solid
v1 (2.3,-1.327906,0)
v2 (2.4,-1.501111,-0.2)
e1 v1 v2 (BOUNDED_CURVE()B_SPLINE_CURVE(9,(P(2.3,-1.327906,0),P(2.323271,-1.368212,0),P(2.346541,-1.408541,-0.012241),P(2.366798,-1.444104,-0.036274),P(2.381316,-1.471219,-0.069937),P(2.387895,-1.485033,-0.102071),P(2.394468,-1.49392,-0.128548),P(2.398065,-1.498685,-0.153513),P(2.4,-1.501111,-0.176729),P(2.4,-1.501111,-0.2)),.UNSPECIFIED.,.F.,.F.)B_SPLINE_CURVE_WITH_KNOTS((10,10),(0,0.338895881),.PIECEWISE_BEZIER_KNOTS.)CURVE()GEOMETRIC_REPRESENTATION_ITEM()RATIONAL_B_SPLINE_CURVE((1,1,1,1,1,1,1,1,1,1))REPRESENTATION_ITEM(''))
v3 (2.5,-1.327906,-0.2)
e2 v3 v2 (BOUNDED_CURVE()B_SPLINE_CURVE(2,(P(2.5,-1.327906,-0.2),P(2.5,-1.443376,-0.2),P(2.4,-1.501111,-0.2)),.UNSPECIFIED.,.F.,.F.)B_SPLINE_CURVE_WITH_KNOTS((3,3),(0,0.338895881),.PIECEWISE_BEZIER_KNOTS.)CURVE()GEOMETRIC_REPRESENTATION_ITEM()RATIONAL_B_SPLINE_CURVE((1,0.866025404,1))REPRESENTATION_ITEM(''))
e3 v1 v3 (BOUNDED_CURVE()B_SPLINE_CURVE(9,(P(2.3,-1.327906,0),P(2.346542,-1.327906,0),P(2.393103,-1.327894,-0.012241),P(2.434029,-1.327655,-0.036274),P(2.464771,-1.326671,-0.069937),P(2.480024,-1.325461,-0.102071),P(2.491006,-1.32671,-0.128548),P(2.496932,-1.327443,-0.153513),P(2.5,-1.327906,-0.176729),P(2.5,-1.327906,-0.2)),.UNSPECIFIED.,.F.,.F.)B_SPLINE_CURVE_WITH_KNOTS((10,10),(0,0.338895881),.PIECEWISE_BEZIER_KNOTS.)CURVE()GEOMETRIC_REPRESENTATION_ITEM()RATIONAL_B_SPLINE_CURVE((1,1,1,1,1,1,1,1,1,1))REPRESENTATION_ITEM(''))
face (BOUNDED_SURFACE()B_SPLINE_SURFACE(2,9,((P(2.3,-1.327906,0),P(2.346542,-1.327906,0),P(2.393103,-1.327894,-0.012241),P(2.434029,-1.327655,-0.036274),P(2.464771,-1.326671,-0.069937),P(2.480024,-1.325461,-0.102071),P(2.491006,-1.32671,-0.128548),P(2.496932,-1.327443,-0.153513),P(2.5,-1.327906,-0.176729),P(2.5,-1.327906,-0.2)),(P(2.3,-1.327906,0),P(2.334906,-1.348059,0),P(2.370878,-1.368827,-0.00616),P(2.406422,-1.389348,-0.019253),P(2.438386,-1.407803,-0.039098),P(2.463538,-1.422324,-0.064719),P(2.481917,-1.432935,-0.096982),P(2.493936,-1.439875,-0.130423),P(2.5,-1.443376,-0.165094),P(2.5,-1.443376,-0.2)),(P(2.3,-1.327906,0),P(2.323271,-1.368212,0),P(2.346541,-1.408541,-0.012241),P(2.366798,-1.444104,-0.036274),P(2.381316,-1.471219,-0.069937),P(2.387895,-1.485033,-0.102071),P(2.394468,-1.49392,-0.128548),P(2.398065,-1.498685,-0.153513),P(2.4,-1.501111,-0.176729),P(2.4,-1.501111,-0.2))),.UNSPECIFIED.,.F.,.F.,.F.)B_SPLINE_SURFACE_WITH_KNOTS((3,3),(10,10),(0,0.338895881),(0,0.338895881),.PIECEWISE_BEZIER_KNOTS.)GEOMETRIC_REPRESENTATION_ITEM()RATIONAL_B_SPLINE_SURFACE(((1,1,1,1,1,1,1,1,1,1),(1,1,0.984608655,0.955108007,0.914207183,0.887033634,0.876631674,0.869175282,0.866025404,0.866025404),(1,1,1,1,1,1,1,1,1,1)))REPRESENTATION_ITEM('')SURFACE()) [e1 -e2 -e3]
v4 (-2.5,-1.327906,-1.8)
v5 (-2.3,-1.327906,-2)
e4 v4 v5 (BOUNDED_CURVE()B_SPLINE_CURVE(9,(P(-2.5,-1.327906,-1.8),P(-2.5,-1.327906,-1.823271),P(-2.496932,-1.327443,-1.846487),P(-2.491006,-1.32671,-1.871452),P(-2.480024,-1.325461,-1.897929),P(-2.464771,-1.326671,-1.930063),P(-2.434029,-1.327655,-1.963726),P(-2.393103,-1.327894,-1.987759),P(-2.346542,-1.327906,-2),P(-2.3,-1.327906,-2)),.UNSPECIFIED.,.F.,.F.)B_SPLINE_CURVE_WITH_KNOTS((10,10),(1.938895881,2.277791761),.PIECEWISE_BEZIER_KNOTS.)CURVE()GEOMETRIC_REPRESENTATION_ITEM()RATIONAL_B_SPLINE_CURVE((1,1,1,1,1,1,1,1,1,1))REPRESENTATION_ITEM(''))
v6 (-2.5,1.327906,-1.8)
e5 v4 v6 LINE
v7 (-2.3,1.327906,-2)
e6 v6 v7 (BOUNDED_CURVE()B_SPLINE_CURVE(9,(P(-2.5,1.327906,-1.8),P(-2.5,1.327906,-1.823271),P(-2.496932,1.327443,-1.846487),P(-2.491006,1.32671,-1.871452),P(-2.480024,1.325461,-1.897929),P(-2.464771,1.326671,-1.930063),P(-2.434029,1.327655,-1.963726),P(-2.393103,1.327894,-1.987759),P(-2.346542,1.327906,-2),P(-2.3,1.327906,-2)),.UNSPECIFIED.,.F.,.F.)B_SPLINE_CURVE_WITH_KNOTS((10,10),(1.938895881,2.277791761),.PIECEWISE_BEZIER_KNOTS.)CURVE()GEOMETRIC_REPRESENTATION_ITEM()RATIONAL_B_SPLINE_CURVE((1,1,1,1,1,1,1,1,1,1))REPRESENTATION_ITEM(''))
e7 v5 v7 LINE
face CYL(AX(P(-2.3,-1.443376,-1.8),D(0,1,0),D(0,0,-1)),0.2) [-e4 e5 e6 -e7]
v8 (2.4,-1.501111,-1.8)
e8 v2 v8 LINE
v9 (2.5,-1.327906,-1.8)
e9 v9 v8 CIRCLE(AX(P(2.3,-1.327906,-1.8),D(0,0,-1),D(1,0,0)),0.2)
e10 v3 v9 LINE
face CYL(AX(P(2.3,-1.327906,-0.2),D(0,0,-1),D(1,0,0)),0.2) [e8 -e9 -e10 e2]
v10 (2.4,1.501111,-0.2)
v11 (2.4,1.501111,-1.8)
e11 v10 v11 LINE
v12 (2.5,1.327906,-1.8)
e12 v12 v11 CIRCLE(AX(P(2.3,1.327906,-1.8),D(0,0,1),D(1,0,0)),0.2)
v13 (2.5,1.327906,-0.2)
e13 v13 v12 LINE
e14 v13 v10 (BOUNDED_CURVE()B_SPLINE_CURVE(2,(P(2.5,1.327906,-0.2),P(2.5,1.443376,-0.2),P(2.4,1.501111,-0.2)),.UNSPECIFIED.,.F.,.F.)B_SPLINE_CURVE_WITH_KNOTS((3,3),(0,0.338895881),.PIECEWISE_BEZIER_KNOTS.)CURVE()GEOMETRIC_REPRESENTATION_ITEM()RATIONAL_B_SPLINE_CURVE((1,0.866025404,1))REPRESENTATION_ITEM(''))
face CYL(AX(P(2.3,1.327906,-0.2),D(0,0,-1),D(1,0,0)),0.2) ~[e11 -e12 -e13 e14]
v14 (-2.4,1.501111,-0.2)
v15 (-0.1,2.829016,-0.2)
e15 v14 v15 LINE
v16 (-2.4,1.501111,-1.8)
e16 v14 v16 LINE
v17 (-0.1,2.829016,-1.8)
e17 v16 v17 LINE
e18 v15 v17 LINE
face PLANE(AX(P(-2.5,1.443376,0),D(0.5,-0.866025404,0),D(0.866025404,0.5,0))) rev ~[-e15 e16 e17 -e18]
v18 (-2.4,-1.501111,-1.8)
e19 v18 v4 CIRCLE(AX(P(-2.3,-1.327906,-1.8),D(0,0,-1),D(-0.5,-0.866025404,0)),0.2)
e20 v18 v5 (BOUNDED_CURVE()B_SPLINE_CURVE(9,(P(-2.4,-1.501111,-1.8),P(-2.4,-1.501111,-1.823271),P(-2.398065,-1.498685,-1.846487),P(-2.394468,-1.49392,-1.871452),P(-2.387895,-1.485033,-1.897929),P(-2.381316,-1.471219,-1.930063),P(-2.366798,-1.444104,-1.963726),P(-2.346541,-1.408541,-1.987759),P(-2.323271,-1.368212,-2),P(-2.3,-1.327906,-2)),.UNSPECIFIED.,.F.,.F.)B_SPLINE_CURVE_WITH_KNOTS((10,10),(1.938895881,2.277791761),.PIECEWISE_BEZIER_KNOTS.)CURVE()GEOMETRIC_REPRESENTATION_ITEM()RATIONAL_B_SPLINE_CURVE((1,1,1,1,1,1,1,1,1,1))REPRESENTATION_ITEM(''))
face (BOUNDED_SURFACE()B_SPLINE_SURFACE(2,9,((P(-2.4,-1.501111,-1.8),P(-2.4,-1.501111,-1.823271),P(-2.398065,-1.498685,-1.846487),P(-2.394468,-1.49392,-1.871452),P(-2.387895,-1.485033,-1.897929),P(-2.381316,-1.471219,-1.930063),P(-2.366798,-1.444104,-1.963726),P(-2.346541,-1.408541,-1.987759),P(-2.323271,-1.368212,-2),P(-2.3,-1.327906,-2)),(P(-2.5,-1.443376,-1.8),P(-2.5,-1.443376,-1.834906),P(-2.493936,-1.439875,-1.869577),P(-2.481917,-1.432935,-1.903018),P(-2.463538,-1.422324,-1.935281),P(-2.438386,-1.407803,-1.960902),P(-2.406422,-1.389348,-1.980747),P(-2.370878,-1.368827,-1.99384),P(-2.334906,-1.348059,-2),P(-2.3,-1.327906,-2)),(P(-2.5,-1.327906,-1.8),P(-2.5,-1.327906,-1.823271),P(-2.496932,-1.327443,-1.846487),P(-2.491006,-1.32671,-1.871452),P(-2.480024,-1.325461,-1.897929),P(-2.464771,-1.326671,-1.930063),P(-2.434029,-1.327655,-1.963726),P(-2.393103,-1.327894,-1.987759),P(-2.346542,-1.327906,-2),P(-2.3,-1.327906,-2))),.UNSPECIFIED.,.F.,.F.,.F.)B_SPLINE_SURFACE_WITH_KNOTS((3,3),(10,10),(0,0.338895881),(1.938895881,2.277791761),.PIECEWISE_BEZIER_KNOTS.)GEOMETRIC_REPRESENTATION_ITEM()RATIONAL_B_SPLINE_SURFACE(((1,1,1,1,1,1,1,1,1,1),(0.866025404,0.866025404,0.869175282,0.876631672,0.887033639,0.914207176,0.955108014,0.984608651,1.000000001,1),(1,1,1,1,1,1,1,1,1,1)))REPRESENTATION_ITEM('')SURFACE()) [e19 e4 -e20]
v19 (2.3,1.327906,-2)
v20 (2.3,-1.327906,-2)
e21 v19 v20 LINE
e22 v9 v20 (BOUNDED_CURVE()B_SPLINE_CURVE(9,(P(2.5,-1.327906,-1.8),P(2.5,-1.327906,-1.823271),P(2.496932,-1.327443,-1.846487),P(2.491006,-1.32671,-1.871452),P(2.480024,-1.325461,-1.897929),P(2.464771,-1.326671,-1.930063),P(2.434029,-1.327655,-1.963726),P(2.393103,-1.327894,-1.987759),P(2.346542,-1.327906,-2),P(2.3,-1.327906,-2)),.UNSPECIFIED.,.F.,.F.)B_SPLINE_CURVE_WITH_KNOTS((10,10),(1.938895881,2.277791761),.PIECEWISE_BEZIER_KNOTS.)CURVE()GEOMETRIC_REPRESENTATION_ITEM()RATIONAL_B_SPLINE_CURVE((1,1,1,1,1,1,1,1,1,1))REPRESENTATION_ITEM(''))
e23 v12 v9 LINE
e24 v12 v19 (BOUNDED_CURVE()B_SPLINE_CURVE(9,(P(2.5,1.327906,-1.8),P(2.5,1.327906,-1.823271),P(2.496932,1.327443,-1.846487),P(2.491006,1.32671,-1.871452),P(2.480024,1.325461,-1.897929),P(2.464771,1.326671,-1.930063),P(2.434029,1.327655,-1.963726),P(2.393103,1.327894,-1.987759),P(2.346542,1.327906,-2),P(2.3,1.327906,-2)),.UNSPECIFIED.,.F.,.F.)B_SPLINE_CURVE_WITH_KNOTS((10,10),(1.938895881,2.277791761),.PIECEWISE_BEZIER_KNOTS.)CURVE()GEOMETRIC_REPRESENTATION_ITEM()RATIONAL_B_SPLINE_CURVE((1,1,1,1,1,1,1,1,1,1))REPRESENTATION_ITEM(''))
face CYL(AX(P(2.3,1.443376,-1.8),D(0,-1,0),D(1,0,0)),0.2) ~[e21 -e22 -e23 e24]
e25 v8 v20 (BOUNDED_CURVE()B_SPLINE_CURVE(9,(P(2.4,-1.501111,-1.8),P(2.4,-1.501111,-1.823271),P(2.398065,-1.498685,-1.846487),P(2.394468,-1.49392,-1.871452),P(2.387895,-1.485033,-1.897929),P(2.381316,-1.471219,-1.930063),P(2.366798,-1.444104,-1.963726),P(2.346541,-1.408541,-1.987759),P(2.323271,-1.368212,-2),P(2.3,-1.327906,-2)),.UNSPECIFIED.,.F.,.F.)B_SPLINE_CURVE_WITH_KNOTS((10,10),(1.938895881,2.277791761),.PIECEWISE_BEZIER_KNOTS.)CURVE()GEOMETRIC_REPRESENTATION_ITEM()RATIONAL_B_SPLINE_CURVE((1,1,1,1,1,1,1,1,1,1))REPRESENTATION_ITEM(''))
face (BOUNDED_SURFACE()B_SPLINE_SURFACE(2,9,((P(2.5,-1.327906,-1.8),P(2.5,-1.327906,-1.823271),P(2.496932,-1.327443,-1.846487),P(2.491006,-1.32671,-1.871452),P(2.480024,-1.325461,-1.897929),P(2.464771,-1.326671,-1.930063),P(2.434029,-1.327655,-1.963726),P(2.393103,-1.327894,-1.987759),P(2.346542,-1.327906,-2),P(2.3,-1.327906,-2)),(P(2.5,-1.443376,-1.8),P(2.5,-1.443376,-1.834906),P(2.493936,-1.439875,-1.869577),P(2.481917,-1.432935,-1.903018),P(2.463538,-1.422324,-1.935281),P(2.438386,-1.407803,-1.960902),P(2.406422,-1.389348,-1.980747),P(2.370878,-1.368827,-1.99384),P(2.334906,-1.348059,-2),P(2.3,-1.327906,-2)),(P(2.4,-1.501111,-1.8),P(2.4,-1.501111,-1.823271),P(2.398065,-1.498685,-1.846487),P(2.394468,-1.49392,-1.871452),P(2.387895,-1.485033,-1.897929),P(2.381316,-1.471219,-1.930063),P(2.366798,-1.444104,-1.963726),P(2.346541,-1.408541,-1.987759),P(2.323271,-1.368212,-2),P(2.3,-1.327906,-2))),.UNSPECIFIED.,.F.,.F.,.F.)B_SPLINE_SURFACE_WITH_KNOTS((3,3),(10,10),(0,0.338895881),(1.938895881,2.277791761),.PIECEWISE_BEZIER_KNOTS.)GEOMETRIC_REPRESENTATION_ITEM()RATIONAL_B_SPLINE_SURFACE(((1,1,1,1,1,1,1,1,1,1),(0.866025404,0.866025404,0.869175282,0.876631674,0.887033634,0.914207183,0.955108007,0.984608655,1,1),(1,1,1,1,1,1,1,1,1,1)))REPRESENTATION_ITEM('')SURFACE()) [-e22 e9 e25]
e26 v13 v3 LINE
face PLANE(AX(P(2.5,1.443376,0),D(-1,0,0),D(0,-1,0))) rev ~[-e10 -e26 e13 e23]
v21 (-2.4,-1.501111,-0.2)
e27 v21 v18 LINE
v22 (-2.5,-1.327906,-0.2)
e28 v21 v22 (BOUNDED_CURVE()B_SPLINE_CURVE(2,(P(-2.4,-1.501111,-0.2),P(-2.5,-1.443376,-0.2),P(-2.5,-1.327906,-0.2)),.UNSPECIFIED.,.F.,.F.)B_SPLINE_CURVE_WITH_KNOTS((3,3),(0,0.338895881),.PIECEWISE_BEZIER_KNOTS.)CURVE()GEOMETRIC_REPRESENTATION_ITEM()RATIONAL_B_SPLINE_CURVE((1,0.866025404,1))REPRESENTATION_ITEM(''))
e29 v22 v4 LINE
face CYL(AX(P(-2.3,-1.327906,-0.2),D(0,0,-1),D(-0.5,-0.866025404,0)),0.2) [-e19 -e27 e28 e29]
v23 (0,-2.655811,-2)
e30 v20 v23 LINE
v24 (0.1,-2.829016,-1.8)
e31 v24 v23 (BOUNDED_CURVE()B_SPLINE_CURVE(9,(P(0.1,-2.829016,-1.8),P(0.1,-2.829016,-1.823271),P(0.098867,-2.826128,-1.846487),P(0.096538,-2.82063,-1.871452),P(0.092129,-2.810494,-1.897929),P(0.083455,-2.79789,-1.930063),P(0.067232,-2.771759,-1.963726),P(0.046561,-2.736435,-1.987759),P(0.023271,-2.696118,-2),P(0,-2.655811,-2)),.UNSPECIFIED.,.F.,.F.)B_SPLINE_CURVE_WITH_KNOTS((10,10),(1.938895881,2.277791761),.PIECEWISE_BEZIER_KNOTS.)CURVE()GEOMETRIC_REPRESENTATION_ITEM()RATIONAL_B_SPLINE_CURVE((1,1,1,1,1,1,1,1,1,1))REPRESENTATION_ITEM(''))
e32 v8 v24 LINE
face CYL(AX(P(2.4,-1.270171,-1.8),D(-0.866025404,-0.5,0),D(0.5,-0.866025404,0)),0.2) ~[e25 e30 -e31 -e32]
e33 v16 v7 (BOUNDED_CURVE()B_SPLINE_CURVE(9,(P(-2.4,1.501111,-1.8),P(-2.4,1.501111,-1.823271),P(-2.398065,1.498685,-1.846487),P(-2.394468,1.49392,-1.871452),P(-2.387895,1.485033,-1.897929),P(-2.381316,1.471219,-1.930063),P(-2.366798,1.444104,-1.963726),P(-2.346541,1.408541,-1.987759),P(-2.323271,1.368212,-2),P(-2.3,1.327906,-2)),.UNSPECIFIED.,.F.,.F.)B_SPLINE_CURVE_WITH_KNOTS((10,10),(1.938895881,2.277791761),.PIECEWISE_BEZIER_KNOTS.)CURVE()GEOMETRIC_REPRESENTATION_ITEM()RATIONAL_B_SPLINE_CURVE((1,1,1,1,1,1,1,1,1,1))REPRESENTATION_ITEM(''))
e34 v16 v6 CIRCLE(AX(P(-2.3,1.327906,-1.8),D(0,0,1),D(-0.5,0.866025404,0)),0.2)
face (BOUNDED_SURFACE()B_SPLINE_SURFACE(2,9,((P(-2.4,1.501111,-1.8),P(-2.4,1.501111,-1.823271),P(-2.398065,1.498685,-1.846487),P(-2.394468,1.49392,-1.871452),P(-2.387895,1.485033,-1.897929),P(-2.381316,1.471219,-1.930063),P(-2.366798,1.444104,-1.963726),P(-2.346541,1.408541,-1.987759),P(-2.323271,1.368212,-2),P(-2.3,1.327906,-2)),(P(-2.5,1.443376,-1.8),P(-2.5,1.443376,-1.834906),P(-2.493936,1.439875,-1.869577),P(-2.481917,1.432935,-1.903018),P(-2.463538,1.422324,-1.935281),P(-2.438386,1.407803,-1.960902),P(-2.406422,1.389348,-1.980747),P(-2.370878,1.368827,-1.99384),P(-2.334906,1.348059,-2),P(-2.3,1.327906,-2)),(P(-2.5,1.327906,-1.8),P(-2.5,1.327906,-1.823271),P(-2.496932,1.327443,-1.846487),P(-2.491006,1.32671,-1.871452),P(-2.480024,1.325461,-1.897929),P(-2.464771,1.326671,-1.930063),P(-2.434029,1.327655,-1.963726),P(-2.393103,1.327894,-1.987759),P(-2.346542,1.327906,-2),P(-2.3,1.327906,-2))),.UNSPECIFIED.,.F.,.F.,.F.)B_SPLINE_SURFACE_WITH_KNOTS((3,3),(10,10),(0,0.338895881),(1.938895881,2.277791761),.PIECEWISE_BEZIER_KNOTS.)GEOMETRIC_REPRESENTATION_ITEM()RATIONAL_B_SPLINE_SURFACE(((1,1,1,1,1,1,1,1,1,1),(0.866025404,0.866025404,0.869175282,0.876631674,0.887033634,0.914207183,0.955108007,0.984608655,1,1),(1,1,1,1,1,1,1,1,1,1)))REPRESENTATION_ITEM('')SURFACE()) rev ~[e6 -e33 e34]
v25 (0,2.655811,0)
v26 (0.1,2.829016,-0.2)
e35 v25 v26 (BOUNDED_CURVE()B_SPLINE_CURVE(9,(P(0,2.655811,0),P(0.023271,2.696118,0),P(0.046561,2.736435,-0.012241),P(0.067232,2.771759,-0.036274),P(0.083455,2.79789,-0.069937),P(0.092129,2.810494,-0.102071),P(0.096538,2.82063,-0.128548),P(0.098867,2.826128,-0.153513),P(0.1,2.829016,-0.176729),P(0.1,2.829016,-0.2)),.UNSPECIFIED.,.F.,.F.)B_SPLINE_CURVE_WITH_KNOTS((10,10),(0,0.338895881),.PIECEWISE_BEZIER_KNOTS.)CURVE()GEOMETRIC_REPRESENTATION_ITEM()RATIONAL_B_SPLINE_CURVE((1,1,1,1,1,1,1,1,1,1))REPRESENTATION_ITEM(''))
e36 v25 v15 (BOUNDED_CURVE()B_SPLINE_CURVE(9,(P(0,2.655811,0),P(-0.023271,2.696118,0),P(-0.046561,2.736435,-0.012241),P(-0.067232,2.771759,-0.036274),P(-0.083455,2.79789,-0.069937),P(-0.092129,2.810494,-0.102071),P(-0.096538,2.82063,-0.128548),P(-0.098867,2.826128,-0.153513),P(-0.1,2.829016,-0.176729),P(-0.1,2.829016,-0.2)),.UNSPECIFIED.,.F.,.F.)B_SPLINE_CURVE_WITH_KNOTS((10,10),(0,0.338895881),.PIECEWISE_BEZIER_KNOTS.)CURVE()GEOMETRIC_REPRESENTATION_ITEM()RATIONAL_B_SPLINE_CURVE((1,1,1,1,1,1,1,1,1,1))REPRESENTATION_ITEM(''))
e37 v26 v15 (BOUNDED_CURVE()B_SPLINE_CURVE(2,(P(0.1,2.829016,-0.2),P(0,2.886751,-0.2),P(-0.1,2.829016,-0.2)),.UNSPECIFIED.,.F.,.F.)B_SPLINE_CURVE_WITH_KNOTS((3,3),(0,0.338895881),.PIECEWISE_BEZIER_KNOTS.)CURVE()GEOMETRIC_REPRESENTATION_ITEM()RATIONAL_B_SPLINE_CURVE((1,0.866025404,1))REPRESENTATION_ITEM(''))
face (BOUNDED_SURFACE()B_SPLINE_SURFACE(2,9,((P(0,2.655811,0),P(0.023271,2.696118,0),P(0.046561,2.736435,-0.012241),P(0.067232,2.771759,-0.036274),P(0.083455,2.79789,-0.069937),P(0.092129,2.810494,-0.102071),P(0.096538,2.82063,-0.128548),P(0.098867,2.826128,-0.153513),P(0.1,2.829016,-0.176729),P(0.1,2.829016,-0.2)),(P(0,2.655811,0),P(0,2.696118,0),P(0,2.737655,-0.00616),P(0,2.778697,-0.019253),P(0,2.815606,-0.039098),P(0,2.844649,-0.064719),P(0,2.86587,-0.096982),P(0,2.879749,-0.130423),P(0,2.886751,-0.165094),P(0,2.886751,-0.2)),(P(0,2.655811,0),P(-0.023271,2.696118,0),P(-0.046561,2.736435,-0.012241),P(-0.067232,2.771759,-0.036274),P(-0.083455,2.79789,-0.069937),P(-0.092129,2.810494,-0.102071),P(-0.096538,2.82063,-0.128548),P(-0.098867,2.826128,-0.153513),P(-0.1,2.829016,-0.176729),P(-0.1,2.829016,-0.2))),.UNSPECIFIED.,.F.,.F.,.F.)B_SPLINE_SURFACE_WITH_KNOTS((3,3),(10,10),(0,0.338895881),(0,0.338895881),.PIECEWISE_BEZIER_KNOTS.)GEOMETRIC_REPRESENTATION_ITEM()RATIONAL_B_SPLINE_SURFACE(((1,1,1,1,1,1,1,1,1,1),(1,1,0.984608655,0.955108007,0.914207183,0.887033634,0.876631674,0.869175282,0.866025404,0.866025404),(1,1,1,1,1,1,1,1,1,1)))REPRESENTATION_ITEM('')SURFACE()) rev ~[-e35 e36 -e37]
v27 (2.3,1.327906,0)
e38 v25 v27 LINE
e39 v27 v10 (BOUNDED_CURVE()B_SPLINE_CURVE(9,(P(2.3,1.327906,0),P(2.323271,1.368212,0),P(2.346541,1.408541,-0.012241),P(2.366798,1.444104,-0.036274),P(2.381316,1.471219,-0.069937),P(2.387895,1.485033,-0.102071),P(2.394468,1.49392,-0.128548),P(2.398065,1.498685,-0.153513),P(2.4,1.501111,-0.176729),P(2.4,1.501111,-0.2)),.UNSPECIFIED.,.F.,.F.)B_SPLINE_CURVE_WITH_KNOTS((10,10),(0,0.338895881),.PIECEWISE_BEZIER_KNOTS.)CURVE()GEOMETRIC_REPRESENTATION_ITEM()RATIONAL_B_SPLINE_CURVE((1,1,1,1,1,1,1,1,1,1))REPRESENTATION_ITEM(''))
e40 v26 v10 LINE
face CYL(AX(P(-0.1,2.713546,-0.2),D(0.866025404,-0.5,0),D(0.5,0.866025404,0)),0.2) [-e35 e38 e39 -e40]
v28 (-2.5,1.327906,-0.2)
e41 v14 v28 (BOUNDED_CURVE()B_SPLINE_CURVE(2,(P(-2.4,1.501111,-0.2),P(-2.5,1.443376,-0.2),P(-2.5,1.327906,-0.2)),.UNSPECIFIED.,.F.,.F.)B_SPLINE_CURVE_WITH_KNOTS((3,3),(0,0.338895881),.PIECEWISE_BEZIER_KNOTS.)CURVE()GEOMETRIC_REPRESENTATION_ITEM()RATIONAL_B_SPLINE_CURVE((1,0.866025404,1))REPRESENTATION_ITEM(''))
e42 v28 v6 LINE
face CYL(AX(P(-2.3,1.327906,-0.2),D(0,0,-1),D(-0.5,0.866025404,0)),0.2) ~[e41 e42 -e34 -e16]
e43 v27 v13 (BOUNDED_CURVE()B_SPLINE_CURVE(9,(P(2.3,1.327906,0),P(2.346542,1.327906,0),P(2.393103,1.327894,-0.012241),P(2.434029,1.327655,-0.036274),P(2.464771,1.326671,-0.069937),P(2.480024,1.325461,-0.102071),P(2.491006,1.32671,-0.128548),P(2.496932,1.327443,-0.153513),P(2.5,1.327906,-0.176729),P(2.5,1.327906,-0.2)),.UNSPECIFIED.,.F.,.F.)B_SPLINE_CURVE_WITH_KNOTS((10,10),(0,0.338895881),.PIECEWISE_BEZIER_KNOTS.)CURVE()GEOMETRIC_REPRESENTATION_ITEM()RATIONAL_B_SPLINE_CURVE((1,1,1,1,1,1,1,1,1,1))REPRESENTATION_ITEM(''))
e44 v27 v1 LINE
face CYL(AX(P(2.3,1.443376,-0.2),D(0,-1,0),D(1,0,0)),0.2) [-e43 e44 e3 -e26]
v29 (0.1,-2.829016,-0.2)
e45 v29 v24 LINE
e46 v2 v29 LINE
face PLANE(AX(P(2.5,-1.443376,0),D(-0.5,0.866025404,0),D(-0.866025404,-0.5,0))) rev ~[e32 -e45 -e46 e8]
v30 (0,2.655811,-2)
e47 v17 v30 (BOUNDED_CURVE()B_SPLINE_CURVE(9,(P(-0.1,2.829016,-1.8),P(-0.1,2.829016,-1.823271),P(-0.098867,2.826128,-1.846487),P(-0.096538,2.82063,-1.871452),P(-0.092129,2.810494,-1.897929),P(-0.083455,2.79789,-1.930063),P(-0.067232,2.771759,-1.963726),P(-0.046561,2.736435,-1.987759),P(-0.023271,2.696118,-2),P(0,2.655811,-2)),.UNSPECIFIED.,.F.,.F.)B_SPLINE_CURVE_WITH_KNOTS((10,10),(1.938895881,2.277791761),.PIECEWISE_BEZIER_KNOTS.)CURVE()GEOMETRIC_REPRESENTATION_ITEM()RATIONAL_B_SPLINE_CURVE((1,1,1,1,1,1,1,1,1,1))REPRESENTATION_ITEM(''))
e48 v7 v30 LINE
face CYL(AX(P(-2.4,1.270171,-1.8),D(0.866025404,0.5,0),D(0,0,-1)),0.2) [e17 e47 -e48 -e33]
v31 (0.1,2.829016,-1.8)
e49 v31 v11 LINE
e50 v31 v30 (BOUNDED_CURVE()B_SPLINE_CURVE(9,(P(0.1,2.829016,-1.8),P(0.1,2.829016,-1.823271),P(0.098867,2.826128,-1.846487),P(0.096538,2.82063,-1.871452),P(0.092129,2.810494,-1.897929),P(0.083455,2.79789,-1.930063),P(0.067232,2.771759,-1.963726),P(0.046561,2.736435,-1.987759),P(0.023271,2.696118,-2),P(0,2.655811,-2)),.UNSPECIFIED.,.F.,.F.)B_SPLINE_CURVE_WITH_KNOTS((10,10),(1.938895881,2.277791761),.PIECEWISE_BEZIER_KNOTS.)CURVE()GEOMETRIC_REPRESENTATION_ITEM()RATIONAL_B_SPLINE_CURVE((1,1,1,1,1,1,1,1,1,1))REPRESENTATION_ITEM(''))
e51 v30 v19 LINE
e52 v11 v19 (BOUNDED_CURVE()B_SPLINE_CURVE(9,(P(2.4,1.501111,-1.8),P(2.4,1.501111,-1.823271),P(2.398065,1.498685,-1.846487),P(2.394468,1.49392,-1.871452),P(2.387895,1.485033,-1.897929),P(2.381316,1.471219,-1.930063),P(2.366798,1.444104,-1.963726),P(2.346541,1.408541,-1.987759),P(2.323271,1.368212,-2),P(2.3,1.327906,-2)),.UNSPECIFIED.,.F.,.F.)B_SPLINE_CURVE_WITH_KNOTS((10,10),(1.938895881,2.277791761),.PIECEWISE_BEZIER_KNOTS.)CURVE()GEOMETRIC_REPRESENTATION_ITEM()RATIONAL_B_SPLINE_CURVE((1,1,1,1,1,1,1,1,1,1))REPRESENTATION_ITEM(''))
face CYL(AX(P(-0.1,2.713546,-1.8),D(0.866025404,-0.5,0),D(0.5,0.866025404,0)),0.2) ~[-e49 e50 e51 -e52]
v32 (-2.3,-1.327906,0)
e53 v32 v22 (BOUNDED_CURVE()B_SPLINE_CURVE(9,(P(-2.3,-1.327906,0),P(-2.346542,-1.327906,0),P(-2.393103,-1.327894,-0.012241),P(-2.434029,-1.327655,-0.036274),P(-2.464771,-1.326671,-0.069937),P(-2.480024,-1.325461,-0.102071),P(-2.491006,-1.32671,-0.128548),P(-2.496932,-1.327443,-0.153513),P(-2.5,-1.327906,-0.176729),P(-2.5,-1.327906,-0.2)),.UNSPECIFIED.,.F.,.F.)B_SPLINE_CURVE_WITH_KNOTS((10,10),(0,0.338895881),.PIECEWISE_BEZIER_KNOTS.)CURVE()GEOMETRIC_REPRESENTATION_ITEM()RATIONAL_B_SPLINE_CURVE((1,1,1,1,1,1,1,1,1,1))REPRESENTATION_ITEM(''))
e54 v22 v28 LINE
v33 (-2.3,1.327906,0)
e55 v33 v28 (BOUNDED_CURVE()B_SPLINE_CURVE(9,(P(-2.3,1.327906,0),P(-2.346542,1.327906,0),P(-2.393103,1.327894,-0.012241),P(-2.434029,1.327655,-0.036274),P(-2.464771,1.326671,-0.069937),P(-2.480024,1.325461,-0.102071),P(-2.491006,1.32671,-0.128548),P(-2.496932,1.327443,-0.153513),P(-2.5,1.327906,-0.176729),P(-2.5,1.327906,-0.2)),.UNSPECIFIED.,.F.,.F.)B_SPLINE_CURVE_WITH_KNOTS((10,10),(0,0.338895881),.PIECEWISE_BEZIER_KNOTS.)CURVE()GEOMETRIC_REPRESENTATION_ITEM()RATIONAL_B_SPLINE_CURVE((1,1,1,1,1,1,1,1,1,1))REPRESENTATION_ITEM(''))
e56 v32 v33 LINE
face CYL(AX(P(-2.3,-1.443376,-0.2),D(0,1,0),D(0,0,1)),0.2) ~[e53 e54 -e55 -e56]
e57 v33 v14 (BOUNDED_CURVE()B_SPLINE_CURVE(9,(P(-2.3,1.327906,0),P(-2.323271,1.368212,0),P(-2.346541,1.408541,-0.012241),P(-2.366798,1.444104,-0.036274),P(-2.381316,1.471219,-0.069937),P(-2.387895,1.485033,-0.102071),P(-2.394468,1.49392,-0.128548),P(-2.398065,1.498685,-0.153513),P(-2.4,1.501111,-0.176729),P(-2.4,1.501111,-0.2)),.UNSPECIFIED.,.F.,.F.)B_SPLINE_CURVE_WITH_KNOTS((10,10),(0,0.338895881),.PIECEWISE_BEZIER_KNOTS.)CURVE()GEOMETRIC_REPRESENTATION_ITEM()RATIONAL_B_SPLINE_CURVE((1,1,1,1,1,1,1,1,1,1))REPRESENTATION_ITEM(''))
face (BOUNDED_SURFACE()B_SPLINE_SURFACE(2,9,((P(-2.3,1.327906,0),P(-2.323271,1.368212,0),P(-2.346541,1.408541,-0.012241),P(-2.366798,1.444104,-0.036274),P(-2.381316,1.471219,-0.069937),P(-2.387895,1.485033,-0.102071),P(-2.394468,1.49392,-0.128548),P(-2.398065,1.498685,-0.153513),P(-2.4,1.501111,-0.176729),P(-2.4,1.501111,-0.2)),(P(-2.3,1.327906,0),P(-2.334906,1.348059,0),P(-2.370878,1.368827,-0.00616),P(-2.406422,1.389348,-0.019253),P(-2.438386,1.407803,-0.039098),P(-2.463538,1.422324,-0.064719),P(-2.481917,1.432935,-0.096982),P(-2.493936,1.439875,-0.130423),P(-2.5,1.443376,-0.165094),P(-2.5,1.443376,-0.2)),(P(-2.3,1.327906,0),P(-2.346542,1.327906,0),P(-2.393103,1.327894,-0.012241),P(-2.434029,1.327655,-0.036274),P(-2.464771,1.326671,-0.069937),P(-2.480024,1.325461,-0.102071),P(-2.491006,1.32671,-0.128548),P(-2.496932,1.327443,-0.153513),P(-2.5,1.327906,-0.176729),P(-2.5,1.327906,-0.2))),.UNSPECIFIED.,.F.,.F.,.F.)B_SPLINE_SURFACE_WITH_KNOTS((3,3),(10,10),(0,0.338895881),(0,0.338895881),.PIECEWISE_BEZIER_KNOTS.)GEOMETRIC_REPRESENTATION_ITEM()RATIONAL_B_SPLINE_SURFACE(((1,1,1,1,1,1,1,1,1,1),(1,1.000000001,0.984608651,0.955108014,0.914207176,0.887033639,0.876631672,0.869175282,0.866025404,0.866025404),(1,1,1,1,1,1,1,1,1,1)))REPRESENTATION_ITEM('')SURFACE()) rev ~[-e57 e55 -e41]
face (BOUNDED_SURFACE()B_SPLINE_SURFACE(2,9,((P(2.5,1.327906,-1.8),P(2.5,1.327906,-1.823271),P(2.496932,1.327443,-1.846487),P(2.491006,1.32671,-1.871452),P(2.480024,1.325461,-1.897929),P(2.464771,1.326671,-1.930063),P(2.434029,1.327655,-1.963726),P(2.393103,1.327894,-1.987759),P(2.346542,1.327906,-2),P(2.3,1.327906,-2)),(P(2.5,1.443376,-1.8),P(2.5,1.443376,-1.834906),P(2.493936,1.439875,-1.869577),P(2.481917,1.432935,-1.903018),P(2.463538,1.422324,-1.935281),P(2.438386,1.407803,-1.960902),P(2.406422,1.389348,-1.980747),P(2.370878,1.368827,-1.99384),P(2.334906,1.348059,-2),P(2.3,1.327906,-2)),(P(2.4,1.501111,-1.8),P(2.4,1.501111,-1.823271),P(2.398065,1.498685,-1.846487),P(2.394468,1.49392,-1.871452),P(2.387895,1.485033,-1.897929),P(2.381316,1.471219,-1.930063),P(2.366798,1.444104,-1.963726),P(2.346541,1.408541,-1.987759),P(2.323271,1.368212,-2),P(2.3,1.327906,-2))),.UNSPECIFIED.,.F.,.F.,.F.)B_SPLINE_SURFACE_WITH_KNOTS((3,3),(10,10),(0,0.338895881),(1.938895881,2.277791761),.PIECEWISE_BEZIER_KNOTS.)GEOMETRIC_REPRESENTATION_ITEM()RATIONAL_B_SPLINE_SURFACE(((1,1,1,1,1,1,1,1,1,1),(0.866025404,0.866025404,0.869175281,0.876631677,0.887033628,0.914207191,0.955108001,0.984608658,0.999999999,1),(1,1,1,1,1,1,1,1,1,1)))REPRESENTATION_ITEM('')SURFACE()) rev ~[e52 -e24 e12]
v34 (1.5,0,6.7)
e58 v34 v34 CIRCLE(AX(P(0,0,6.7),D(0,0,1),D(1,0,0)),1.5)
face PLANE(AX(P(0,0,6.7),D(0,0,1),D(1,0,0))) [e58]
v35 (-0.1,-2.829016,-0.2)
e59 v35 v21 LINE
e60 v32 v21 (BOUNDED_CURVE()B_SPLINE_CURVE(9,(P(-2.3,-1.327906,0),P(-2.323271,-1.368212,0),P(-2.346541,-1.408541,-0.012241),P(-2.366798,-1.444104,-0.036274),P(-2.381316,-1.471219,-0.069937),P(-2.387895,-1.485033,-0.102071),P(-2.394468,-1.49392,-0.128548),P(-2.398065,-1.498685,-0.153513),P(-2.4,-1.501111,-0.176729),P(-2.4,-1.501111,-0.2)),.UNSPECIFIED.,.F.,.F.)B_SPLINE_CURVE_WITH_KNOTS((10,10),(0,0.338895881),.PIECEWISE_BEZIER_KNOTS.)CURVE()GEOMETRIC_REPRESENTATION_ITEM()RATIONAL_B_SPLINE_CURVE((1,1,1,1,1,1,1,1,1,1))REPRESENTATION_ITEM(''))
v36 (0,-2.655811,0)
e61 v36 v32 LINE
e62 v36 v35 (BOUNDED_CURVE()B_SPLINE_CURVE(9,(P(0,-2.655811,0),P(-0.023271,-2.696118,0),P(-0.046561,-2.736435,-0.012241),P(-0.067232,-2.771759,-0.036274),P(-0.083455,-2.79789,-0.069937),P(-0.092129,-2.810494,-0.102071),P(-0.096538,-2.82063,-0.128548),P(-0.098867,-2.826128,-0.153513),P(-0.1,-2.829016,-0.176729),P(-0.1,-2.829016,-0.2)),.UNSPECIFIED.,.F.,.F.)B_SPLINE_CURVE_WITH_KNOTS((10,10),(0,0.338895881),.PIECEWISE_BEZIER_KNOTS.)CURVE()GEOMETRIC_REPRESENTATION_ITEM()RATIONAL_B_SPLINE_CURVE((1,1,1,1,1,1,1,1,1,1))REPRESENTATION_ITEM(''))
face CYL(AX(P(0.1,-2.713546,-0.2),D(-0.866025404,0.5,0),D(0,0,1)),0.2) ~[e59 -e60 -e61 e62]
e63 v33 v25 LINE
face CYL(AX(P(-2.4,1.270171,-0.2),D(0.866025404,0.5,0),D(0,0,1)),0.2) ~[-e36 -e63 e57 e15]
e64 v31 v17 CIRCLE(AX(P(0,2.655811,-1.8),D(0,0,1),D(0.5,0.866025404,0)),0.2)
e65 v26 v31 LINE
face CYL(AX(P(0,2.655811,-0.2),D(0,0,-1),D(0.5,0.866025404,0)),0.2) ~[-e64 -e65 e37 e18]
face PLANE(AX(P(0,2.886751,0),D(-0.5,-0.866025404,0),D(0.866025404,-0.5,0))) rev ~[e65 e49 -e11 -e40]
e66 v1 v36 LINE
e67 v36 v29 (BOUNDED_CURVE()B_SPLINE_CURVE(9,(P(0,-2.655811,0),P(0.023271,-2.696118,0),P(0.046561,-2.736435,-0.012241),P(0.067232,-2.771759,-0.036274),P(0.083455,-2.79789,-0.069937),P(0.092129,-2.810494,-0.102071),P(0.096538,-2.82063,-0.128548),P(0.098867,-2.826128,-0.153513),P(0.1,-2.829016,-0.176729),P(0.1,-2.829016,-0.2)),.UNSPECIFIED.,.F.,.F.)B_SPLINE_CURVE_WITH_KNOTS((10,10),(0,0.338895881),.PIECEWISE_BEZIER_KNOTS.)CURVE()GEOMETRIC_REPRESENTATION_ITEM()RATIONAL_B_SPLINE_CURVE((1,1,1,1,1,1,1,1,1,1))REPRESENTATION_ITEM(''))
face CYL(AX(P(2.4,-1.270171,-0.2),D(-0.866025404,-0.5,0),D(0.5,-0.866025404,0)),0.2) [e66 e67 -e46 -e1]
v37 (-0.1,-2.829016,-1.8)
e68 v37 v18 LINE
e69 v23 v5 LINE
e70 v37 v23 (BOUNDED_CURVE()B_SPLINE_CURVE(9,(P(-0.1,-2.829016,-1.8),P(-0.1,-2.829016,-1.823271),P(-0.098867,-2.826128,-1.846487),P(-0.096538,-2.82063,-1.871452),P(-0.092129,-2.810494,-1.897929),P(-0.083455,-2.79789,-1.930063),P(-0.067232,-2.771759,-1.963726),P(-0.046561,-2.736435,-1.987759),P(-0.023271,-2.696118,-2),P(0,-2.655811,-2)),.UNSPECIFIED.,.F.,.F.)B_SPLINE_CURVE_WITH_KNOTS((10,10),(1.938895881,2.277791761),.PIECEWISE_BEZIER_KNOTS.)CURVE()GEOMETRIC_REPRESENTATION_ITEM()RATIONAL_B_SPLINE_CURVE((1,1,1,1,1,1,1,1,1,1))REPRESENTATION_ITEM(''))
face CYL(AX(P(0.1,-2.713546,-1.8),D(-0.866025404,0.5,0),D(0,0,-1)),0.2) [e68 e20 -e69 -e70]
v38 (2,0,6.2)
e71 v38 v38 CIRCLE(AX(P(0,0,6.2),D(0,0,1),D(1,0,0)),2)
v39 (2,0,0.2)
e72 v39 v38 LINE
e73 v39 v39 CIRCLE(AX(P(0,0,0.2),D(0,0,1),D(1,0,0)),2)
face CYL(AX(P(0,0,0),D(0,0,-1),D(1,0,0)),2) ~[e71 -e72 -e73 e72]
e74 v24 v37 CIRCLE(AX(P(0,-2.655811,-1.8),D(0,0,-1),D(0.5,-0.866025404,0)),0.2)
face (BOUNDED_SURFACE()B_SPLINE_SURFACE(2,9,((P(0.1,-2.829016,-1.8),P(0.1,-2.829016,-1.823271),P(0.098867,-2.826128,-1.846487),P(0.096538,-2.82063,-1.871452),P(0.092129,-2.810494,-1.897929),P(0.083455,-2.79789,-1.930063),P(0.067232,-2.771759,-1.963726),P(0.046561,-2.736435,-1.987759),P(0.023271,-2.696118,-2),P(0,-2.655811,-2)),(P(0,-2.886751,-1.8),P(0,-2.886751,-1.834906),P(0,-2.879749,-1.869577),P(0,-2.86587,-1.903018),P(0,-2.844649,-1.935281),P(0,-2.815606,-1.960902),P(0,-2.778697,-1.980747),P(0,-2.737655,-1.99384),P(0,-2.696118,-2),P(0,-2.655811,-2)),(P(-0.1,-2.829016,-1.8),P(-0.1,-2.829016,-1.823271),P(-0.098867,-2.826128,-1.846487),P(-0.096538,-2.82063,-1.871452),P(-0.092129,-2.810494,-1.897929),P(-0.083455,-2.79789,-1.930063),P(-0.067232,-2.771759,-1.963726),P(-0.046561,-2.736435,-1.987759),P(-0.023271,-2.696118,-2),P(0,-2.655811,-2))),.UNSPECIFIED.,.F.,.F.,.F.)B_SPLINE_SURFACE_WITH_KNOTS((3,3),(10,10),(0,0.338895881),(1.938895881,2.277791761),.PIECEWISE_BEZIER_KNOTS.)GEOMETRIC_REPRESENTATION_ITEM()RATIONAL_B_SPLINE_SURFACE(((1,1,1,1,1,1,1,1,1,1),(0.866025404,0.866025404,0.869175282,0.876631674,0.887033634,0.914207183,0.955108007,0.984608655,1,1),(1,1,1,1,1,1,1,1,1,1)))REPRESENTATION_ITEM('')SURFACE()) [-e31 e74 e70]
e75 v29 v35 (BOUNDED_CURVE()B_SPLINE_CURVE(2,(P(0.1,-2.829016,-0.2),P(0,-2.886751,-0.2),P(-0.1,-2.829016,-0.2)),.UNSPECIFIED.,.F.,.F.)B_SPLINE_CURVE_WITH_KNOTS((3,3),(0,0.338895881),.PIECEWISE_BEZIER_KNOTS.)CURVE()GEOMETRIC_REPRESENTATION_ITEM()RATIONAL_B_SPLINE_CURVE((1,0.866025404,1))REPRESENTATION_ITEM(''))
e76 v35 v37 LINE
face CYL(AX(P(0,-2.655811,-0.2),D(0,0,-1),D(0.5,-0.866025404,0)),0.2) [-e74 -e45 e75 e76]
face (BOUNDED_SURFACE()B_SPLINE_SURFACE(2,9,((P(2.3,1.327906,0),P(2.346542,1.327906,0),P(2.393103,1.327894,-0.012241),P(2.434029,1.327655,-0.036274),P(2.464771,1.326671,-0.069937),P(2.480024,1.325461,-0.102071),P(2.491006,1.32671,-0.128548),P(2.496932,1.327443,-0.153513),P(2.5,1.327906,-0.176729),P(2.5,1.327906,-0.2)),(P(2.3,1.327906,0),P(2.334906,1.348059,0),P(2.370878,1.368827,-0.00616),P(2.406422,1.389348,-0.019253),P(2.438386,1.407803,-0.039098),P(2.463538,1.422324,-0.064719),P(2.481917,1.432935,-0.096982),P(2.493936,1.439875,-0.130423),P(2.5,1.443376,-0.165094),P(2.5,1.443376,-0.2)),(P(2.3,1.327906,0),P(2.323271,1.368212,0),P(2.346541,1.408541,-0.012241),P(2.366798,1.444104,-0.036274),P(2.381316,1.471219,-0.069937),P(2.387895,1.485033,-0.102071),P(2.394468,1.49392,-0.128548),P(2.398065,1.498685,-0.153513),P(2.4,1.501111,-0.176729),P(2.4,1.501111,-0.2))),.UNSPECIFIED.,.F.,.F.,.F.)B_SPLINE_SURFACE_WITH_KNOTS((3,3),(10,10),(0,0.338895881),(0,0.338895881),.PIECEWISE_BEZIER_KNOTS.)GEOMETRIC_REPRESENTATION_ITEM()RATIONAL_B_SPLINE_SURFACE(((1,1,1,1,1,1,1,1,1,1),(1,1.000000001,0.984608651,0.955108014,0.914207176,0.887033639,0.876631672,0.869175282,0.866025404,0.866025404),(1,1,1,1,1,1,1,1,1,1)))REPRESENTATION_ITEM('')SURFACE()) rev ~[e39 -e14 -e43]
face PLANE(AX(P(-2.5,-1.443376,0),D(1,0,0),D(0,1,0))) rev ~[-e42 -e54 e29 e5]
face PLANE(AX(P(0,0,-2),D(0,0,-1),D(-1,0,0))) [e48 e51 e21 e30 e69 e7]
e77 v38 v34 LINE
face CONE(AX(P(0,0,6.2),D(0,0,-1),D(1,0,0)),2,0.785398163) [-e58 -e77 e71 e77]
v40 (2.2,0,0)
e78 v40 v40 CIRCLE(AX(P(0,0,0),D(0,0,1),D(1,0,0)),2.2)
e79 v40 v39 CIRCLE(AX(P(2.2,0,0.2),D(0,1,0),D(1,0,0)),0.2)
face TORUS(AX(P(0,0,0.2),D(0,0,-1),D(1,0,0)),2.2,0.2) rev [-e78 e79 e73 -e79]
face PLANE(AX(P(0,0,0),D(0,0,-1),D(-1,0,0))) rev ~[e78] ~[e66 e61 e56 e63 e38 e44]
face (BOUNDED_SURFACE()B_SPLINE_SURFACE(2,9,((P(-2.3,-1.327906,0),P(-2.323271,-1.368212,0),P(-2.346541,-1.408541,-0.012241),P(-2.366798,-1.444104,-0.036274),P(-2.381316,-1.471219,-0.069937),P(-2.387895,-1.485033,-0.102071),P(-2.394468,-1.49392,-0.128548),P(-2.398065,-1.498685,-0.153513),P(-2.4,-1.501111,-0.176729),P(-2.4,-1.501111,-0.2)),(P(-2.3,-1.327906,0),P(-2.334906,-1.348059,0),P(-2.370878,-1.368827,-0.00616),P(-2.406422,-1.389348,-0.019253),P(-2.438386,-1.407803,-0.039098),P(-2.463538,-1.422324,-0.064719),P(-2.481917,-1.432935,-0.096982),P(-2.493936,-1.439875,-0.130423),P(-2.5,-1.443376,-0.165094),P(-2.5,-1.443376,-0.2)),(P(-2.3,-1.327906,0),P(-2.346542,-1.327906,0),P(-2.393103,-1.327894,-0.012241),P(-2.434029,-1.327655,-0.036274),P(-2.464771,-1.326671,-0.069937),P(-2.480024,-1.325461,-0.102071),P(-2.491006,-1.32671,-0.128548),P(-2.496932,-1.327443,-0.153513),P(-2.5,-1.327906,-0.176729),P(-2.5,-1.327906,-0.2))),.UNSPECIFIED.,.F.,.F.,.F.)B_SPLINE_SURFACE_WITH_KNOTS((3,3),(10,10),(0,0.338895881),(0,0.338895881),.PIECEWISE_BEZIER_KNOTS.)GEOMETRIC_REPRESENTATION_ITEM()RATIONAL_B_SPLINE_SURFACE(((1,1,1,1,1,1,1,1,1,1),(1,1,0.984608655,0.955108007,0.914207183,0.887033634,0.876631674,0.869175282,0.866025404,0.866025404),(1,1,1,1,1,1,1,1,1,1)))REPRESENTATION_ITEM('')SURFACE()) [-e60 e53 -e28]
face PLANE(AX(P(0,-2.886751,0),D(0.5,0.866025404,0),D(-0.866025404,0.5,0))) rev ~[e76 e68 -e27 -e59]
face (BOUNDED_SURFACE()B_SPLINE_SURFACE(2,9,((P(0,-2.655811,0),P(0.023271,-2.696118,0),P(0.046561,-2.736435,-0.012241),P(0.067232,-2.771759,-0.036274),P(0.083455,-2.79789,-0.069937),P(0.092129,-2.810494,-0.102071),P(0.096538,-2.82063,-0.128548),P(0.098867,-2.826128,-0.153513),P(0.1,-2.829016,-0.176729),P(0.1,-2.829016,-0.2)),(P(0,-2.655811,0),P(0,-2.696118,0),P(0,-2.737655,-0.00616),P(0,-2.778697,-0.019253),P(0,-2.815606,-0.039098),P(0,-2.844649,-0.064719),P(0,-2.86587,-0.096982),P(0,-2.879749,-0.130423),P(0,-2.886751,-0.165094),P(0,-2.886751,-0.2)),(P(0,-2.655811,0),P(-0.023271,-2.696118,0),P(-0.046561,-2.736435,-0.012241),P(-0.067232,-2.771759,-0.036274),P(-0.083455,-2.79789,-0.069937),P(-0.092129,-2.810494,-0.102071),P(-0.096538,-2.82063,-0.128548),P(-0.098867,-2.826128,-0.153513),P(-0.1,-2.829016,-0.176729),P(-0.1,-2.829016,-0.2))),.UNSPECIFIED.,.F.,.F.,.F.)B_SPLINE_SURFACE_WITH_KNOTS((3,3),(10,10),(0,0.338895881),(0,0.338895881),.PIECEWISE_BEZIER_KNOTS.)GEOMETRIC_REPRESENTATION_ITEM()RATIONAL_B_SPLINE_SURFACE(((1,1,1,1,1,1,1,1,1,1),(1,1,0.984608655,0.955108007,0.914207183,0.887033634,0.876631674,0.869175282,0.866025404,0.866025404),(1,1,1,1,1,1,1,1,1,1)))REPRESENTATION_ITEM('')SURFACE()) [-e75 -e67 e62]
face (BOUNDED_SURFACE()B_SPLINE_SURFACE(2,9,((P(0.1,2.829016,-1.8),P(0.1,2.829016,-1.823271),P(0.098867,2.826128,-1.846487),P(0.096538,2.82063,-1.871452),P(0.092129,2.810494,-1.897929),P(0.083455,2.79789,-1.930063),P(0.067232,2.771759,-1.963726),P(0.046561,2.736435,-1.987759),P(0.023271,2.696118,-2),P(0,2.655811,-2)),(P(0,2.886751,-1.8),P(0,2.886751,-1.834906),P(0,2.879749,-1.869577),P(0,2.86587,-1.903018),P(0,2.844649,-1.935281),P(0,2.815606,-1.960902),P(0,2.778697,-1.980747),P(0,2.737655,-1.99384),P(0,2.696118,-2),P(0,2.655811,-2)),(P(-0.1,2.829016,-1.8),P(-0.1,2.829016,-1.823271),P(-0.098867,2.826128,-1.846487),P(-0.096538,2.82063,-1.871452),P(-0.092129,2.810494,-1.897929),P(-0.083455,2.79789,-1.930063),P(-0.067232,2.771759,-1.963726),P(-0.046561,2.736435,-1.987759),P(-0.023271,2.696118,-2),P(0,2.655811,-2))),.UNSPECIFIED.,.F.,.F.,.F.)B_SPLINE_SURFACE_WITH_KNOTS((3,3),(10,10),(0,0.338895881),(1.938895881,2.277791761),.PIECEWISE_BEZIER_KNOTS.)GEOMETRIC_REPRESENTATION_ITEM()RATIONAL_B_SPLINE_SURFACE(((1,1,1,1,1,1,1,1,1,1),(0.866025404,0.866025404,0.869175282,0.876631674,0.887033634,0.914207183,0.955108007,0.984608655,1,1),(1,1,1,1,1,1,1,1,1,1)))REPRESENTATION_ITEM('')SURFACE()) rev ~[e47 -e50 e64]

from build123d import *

# Parameters (mm, degrees)
SKETCH1_R           = 2
BOSS_EXTRUDE1_DEPTH = 6.7
BOSS_EXTRUDE2_DEPTH = 2
FILLET1_R           = 0.2
FILLET2_R           = 0.2
CHAMFER1_SIZE       = 0.5


with BuildPart() as part:
    # Sketch1 → Boss-Extrude1 (new body)
    with BuildSketch(Plane.XY):
        Circle(SKETCH1_R)
    extrude(amount=BOSS_EXTRUDE1_DEPTH)

    # Sketch2 → Boss-Extrude2 (add)
    with BuildSketch(Plane(origin=(0, 0, 0), x_dir=(-1, 0, 0), z_dir=(0, 0, -1))):
        Polygon((-2.5, 1.443375673), (-2.5, -1.443375673), (0, -2.886751346), (2.5, -1.443375673), (2.5, 1.443375673), (0, 2.886751346), align=None)
    extrude(amount=BOSS_EXTRUDE2_DEPTH)

    # Fillet1
    fillet1_edges = [part.edges().sort_by_distance(p)[0] for p in [
        (-2, 0, 0),
        (1.25, 2.165063509, 0),
        (2.5, 0, 0),
        (1.25, -2.165063509, 0),
        (-1.25, -2.165063509, 0),
        (-2.5, 0, 0),
        (-1.25, 2.165063509, 0),
        (1.25, 2.165063509, -2),
        (2.5, 0, -2),
        (1.25, -2.165063509, -2),
        (-1.25, -2.165063509, -2),
        (-2.5, 0, -2),
        (-1.25, 2.165063509, -2),
    ]]
    fillet(fillet1_edges, radius=FILLET1_R)

    # Fillet2
    fillet2_edges = [part.edges().sort_by_distance(p)[0] for p in [
        (0, 2.886751346, -1),
        (-2.5, 1.443375673, -1),
        (-2.5, -1.443375673, -1),
        (0, -2.886751346, -1),
        (2.5, -1.443375673, -1),
        (2.5, 1.443375673, -1),
        (0, -2.813180543, -1.94637683),
        (2.436285816, -1.406590271, -1.94637683),
        (-2.436285816, -1.406590271, -1.94637683),
        (2.436285816, 1.406590271, -1.94637683),
        (-2.436285816, 1.406590271, -1.94637683),
        (0, 2.813180543, -1.94637683),
        (-2.436285816, 1.406590271, -0.05362317),
        (-2.436285816, -1.406590271, -0.05362317),
        (0, 2.813180543, -0.05362317),
        (0, -2.813180543, -0.05362317),
        (2.436285816, 1.406590271, -0.05362317),
        (2.436285816, -1.406590271, -0.05362317),
    ]]
    fillet(fillet2_edges, radius=FILLET2_R)

    # Chamfer1
    chamfer1_edges = [part.edges().sort_by_distance(p)[0] for p in [
        (-2, 0, 6.7),
    ]]
    chamfer(chamfer1_edges, length=CHAMFER1_SIZE)


solid = part.part
